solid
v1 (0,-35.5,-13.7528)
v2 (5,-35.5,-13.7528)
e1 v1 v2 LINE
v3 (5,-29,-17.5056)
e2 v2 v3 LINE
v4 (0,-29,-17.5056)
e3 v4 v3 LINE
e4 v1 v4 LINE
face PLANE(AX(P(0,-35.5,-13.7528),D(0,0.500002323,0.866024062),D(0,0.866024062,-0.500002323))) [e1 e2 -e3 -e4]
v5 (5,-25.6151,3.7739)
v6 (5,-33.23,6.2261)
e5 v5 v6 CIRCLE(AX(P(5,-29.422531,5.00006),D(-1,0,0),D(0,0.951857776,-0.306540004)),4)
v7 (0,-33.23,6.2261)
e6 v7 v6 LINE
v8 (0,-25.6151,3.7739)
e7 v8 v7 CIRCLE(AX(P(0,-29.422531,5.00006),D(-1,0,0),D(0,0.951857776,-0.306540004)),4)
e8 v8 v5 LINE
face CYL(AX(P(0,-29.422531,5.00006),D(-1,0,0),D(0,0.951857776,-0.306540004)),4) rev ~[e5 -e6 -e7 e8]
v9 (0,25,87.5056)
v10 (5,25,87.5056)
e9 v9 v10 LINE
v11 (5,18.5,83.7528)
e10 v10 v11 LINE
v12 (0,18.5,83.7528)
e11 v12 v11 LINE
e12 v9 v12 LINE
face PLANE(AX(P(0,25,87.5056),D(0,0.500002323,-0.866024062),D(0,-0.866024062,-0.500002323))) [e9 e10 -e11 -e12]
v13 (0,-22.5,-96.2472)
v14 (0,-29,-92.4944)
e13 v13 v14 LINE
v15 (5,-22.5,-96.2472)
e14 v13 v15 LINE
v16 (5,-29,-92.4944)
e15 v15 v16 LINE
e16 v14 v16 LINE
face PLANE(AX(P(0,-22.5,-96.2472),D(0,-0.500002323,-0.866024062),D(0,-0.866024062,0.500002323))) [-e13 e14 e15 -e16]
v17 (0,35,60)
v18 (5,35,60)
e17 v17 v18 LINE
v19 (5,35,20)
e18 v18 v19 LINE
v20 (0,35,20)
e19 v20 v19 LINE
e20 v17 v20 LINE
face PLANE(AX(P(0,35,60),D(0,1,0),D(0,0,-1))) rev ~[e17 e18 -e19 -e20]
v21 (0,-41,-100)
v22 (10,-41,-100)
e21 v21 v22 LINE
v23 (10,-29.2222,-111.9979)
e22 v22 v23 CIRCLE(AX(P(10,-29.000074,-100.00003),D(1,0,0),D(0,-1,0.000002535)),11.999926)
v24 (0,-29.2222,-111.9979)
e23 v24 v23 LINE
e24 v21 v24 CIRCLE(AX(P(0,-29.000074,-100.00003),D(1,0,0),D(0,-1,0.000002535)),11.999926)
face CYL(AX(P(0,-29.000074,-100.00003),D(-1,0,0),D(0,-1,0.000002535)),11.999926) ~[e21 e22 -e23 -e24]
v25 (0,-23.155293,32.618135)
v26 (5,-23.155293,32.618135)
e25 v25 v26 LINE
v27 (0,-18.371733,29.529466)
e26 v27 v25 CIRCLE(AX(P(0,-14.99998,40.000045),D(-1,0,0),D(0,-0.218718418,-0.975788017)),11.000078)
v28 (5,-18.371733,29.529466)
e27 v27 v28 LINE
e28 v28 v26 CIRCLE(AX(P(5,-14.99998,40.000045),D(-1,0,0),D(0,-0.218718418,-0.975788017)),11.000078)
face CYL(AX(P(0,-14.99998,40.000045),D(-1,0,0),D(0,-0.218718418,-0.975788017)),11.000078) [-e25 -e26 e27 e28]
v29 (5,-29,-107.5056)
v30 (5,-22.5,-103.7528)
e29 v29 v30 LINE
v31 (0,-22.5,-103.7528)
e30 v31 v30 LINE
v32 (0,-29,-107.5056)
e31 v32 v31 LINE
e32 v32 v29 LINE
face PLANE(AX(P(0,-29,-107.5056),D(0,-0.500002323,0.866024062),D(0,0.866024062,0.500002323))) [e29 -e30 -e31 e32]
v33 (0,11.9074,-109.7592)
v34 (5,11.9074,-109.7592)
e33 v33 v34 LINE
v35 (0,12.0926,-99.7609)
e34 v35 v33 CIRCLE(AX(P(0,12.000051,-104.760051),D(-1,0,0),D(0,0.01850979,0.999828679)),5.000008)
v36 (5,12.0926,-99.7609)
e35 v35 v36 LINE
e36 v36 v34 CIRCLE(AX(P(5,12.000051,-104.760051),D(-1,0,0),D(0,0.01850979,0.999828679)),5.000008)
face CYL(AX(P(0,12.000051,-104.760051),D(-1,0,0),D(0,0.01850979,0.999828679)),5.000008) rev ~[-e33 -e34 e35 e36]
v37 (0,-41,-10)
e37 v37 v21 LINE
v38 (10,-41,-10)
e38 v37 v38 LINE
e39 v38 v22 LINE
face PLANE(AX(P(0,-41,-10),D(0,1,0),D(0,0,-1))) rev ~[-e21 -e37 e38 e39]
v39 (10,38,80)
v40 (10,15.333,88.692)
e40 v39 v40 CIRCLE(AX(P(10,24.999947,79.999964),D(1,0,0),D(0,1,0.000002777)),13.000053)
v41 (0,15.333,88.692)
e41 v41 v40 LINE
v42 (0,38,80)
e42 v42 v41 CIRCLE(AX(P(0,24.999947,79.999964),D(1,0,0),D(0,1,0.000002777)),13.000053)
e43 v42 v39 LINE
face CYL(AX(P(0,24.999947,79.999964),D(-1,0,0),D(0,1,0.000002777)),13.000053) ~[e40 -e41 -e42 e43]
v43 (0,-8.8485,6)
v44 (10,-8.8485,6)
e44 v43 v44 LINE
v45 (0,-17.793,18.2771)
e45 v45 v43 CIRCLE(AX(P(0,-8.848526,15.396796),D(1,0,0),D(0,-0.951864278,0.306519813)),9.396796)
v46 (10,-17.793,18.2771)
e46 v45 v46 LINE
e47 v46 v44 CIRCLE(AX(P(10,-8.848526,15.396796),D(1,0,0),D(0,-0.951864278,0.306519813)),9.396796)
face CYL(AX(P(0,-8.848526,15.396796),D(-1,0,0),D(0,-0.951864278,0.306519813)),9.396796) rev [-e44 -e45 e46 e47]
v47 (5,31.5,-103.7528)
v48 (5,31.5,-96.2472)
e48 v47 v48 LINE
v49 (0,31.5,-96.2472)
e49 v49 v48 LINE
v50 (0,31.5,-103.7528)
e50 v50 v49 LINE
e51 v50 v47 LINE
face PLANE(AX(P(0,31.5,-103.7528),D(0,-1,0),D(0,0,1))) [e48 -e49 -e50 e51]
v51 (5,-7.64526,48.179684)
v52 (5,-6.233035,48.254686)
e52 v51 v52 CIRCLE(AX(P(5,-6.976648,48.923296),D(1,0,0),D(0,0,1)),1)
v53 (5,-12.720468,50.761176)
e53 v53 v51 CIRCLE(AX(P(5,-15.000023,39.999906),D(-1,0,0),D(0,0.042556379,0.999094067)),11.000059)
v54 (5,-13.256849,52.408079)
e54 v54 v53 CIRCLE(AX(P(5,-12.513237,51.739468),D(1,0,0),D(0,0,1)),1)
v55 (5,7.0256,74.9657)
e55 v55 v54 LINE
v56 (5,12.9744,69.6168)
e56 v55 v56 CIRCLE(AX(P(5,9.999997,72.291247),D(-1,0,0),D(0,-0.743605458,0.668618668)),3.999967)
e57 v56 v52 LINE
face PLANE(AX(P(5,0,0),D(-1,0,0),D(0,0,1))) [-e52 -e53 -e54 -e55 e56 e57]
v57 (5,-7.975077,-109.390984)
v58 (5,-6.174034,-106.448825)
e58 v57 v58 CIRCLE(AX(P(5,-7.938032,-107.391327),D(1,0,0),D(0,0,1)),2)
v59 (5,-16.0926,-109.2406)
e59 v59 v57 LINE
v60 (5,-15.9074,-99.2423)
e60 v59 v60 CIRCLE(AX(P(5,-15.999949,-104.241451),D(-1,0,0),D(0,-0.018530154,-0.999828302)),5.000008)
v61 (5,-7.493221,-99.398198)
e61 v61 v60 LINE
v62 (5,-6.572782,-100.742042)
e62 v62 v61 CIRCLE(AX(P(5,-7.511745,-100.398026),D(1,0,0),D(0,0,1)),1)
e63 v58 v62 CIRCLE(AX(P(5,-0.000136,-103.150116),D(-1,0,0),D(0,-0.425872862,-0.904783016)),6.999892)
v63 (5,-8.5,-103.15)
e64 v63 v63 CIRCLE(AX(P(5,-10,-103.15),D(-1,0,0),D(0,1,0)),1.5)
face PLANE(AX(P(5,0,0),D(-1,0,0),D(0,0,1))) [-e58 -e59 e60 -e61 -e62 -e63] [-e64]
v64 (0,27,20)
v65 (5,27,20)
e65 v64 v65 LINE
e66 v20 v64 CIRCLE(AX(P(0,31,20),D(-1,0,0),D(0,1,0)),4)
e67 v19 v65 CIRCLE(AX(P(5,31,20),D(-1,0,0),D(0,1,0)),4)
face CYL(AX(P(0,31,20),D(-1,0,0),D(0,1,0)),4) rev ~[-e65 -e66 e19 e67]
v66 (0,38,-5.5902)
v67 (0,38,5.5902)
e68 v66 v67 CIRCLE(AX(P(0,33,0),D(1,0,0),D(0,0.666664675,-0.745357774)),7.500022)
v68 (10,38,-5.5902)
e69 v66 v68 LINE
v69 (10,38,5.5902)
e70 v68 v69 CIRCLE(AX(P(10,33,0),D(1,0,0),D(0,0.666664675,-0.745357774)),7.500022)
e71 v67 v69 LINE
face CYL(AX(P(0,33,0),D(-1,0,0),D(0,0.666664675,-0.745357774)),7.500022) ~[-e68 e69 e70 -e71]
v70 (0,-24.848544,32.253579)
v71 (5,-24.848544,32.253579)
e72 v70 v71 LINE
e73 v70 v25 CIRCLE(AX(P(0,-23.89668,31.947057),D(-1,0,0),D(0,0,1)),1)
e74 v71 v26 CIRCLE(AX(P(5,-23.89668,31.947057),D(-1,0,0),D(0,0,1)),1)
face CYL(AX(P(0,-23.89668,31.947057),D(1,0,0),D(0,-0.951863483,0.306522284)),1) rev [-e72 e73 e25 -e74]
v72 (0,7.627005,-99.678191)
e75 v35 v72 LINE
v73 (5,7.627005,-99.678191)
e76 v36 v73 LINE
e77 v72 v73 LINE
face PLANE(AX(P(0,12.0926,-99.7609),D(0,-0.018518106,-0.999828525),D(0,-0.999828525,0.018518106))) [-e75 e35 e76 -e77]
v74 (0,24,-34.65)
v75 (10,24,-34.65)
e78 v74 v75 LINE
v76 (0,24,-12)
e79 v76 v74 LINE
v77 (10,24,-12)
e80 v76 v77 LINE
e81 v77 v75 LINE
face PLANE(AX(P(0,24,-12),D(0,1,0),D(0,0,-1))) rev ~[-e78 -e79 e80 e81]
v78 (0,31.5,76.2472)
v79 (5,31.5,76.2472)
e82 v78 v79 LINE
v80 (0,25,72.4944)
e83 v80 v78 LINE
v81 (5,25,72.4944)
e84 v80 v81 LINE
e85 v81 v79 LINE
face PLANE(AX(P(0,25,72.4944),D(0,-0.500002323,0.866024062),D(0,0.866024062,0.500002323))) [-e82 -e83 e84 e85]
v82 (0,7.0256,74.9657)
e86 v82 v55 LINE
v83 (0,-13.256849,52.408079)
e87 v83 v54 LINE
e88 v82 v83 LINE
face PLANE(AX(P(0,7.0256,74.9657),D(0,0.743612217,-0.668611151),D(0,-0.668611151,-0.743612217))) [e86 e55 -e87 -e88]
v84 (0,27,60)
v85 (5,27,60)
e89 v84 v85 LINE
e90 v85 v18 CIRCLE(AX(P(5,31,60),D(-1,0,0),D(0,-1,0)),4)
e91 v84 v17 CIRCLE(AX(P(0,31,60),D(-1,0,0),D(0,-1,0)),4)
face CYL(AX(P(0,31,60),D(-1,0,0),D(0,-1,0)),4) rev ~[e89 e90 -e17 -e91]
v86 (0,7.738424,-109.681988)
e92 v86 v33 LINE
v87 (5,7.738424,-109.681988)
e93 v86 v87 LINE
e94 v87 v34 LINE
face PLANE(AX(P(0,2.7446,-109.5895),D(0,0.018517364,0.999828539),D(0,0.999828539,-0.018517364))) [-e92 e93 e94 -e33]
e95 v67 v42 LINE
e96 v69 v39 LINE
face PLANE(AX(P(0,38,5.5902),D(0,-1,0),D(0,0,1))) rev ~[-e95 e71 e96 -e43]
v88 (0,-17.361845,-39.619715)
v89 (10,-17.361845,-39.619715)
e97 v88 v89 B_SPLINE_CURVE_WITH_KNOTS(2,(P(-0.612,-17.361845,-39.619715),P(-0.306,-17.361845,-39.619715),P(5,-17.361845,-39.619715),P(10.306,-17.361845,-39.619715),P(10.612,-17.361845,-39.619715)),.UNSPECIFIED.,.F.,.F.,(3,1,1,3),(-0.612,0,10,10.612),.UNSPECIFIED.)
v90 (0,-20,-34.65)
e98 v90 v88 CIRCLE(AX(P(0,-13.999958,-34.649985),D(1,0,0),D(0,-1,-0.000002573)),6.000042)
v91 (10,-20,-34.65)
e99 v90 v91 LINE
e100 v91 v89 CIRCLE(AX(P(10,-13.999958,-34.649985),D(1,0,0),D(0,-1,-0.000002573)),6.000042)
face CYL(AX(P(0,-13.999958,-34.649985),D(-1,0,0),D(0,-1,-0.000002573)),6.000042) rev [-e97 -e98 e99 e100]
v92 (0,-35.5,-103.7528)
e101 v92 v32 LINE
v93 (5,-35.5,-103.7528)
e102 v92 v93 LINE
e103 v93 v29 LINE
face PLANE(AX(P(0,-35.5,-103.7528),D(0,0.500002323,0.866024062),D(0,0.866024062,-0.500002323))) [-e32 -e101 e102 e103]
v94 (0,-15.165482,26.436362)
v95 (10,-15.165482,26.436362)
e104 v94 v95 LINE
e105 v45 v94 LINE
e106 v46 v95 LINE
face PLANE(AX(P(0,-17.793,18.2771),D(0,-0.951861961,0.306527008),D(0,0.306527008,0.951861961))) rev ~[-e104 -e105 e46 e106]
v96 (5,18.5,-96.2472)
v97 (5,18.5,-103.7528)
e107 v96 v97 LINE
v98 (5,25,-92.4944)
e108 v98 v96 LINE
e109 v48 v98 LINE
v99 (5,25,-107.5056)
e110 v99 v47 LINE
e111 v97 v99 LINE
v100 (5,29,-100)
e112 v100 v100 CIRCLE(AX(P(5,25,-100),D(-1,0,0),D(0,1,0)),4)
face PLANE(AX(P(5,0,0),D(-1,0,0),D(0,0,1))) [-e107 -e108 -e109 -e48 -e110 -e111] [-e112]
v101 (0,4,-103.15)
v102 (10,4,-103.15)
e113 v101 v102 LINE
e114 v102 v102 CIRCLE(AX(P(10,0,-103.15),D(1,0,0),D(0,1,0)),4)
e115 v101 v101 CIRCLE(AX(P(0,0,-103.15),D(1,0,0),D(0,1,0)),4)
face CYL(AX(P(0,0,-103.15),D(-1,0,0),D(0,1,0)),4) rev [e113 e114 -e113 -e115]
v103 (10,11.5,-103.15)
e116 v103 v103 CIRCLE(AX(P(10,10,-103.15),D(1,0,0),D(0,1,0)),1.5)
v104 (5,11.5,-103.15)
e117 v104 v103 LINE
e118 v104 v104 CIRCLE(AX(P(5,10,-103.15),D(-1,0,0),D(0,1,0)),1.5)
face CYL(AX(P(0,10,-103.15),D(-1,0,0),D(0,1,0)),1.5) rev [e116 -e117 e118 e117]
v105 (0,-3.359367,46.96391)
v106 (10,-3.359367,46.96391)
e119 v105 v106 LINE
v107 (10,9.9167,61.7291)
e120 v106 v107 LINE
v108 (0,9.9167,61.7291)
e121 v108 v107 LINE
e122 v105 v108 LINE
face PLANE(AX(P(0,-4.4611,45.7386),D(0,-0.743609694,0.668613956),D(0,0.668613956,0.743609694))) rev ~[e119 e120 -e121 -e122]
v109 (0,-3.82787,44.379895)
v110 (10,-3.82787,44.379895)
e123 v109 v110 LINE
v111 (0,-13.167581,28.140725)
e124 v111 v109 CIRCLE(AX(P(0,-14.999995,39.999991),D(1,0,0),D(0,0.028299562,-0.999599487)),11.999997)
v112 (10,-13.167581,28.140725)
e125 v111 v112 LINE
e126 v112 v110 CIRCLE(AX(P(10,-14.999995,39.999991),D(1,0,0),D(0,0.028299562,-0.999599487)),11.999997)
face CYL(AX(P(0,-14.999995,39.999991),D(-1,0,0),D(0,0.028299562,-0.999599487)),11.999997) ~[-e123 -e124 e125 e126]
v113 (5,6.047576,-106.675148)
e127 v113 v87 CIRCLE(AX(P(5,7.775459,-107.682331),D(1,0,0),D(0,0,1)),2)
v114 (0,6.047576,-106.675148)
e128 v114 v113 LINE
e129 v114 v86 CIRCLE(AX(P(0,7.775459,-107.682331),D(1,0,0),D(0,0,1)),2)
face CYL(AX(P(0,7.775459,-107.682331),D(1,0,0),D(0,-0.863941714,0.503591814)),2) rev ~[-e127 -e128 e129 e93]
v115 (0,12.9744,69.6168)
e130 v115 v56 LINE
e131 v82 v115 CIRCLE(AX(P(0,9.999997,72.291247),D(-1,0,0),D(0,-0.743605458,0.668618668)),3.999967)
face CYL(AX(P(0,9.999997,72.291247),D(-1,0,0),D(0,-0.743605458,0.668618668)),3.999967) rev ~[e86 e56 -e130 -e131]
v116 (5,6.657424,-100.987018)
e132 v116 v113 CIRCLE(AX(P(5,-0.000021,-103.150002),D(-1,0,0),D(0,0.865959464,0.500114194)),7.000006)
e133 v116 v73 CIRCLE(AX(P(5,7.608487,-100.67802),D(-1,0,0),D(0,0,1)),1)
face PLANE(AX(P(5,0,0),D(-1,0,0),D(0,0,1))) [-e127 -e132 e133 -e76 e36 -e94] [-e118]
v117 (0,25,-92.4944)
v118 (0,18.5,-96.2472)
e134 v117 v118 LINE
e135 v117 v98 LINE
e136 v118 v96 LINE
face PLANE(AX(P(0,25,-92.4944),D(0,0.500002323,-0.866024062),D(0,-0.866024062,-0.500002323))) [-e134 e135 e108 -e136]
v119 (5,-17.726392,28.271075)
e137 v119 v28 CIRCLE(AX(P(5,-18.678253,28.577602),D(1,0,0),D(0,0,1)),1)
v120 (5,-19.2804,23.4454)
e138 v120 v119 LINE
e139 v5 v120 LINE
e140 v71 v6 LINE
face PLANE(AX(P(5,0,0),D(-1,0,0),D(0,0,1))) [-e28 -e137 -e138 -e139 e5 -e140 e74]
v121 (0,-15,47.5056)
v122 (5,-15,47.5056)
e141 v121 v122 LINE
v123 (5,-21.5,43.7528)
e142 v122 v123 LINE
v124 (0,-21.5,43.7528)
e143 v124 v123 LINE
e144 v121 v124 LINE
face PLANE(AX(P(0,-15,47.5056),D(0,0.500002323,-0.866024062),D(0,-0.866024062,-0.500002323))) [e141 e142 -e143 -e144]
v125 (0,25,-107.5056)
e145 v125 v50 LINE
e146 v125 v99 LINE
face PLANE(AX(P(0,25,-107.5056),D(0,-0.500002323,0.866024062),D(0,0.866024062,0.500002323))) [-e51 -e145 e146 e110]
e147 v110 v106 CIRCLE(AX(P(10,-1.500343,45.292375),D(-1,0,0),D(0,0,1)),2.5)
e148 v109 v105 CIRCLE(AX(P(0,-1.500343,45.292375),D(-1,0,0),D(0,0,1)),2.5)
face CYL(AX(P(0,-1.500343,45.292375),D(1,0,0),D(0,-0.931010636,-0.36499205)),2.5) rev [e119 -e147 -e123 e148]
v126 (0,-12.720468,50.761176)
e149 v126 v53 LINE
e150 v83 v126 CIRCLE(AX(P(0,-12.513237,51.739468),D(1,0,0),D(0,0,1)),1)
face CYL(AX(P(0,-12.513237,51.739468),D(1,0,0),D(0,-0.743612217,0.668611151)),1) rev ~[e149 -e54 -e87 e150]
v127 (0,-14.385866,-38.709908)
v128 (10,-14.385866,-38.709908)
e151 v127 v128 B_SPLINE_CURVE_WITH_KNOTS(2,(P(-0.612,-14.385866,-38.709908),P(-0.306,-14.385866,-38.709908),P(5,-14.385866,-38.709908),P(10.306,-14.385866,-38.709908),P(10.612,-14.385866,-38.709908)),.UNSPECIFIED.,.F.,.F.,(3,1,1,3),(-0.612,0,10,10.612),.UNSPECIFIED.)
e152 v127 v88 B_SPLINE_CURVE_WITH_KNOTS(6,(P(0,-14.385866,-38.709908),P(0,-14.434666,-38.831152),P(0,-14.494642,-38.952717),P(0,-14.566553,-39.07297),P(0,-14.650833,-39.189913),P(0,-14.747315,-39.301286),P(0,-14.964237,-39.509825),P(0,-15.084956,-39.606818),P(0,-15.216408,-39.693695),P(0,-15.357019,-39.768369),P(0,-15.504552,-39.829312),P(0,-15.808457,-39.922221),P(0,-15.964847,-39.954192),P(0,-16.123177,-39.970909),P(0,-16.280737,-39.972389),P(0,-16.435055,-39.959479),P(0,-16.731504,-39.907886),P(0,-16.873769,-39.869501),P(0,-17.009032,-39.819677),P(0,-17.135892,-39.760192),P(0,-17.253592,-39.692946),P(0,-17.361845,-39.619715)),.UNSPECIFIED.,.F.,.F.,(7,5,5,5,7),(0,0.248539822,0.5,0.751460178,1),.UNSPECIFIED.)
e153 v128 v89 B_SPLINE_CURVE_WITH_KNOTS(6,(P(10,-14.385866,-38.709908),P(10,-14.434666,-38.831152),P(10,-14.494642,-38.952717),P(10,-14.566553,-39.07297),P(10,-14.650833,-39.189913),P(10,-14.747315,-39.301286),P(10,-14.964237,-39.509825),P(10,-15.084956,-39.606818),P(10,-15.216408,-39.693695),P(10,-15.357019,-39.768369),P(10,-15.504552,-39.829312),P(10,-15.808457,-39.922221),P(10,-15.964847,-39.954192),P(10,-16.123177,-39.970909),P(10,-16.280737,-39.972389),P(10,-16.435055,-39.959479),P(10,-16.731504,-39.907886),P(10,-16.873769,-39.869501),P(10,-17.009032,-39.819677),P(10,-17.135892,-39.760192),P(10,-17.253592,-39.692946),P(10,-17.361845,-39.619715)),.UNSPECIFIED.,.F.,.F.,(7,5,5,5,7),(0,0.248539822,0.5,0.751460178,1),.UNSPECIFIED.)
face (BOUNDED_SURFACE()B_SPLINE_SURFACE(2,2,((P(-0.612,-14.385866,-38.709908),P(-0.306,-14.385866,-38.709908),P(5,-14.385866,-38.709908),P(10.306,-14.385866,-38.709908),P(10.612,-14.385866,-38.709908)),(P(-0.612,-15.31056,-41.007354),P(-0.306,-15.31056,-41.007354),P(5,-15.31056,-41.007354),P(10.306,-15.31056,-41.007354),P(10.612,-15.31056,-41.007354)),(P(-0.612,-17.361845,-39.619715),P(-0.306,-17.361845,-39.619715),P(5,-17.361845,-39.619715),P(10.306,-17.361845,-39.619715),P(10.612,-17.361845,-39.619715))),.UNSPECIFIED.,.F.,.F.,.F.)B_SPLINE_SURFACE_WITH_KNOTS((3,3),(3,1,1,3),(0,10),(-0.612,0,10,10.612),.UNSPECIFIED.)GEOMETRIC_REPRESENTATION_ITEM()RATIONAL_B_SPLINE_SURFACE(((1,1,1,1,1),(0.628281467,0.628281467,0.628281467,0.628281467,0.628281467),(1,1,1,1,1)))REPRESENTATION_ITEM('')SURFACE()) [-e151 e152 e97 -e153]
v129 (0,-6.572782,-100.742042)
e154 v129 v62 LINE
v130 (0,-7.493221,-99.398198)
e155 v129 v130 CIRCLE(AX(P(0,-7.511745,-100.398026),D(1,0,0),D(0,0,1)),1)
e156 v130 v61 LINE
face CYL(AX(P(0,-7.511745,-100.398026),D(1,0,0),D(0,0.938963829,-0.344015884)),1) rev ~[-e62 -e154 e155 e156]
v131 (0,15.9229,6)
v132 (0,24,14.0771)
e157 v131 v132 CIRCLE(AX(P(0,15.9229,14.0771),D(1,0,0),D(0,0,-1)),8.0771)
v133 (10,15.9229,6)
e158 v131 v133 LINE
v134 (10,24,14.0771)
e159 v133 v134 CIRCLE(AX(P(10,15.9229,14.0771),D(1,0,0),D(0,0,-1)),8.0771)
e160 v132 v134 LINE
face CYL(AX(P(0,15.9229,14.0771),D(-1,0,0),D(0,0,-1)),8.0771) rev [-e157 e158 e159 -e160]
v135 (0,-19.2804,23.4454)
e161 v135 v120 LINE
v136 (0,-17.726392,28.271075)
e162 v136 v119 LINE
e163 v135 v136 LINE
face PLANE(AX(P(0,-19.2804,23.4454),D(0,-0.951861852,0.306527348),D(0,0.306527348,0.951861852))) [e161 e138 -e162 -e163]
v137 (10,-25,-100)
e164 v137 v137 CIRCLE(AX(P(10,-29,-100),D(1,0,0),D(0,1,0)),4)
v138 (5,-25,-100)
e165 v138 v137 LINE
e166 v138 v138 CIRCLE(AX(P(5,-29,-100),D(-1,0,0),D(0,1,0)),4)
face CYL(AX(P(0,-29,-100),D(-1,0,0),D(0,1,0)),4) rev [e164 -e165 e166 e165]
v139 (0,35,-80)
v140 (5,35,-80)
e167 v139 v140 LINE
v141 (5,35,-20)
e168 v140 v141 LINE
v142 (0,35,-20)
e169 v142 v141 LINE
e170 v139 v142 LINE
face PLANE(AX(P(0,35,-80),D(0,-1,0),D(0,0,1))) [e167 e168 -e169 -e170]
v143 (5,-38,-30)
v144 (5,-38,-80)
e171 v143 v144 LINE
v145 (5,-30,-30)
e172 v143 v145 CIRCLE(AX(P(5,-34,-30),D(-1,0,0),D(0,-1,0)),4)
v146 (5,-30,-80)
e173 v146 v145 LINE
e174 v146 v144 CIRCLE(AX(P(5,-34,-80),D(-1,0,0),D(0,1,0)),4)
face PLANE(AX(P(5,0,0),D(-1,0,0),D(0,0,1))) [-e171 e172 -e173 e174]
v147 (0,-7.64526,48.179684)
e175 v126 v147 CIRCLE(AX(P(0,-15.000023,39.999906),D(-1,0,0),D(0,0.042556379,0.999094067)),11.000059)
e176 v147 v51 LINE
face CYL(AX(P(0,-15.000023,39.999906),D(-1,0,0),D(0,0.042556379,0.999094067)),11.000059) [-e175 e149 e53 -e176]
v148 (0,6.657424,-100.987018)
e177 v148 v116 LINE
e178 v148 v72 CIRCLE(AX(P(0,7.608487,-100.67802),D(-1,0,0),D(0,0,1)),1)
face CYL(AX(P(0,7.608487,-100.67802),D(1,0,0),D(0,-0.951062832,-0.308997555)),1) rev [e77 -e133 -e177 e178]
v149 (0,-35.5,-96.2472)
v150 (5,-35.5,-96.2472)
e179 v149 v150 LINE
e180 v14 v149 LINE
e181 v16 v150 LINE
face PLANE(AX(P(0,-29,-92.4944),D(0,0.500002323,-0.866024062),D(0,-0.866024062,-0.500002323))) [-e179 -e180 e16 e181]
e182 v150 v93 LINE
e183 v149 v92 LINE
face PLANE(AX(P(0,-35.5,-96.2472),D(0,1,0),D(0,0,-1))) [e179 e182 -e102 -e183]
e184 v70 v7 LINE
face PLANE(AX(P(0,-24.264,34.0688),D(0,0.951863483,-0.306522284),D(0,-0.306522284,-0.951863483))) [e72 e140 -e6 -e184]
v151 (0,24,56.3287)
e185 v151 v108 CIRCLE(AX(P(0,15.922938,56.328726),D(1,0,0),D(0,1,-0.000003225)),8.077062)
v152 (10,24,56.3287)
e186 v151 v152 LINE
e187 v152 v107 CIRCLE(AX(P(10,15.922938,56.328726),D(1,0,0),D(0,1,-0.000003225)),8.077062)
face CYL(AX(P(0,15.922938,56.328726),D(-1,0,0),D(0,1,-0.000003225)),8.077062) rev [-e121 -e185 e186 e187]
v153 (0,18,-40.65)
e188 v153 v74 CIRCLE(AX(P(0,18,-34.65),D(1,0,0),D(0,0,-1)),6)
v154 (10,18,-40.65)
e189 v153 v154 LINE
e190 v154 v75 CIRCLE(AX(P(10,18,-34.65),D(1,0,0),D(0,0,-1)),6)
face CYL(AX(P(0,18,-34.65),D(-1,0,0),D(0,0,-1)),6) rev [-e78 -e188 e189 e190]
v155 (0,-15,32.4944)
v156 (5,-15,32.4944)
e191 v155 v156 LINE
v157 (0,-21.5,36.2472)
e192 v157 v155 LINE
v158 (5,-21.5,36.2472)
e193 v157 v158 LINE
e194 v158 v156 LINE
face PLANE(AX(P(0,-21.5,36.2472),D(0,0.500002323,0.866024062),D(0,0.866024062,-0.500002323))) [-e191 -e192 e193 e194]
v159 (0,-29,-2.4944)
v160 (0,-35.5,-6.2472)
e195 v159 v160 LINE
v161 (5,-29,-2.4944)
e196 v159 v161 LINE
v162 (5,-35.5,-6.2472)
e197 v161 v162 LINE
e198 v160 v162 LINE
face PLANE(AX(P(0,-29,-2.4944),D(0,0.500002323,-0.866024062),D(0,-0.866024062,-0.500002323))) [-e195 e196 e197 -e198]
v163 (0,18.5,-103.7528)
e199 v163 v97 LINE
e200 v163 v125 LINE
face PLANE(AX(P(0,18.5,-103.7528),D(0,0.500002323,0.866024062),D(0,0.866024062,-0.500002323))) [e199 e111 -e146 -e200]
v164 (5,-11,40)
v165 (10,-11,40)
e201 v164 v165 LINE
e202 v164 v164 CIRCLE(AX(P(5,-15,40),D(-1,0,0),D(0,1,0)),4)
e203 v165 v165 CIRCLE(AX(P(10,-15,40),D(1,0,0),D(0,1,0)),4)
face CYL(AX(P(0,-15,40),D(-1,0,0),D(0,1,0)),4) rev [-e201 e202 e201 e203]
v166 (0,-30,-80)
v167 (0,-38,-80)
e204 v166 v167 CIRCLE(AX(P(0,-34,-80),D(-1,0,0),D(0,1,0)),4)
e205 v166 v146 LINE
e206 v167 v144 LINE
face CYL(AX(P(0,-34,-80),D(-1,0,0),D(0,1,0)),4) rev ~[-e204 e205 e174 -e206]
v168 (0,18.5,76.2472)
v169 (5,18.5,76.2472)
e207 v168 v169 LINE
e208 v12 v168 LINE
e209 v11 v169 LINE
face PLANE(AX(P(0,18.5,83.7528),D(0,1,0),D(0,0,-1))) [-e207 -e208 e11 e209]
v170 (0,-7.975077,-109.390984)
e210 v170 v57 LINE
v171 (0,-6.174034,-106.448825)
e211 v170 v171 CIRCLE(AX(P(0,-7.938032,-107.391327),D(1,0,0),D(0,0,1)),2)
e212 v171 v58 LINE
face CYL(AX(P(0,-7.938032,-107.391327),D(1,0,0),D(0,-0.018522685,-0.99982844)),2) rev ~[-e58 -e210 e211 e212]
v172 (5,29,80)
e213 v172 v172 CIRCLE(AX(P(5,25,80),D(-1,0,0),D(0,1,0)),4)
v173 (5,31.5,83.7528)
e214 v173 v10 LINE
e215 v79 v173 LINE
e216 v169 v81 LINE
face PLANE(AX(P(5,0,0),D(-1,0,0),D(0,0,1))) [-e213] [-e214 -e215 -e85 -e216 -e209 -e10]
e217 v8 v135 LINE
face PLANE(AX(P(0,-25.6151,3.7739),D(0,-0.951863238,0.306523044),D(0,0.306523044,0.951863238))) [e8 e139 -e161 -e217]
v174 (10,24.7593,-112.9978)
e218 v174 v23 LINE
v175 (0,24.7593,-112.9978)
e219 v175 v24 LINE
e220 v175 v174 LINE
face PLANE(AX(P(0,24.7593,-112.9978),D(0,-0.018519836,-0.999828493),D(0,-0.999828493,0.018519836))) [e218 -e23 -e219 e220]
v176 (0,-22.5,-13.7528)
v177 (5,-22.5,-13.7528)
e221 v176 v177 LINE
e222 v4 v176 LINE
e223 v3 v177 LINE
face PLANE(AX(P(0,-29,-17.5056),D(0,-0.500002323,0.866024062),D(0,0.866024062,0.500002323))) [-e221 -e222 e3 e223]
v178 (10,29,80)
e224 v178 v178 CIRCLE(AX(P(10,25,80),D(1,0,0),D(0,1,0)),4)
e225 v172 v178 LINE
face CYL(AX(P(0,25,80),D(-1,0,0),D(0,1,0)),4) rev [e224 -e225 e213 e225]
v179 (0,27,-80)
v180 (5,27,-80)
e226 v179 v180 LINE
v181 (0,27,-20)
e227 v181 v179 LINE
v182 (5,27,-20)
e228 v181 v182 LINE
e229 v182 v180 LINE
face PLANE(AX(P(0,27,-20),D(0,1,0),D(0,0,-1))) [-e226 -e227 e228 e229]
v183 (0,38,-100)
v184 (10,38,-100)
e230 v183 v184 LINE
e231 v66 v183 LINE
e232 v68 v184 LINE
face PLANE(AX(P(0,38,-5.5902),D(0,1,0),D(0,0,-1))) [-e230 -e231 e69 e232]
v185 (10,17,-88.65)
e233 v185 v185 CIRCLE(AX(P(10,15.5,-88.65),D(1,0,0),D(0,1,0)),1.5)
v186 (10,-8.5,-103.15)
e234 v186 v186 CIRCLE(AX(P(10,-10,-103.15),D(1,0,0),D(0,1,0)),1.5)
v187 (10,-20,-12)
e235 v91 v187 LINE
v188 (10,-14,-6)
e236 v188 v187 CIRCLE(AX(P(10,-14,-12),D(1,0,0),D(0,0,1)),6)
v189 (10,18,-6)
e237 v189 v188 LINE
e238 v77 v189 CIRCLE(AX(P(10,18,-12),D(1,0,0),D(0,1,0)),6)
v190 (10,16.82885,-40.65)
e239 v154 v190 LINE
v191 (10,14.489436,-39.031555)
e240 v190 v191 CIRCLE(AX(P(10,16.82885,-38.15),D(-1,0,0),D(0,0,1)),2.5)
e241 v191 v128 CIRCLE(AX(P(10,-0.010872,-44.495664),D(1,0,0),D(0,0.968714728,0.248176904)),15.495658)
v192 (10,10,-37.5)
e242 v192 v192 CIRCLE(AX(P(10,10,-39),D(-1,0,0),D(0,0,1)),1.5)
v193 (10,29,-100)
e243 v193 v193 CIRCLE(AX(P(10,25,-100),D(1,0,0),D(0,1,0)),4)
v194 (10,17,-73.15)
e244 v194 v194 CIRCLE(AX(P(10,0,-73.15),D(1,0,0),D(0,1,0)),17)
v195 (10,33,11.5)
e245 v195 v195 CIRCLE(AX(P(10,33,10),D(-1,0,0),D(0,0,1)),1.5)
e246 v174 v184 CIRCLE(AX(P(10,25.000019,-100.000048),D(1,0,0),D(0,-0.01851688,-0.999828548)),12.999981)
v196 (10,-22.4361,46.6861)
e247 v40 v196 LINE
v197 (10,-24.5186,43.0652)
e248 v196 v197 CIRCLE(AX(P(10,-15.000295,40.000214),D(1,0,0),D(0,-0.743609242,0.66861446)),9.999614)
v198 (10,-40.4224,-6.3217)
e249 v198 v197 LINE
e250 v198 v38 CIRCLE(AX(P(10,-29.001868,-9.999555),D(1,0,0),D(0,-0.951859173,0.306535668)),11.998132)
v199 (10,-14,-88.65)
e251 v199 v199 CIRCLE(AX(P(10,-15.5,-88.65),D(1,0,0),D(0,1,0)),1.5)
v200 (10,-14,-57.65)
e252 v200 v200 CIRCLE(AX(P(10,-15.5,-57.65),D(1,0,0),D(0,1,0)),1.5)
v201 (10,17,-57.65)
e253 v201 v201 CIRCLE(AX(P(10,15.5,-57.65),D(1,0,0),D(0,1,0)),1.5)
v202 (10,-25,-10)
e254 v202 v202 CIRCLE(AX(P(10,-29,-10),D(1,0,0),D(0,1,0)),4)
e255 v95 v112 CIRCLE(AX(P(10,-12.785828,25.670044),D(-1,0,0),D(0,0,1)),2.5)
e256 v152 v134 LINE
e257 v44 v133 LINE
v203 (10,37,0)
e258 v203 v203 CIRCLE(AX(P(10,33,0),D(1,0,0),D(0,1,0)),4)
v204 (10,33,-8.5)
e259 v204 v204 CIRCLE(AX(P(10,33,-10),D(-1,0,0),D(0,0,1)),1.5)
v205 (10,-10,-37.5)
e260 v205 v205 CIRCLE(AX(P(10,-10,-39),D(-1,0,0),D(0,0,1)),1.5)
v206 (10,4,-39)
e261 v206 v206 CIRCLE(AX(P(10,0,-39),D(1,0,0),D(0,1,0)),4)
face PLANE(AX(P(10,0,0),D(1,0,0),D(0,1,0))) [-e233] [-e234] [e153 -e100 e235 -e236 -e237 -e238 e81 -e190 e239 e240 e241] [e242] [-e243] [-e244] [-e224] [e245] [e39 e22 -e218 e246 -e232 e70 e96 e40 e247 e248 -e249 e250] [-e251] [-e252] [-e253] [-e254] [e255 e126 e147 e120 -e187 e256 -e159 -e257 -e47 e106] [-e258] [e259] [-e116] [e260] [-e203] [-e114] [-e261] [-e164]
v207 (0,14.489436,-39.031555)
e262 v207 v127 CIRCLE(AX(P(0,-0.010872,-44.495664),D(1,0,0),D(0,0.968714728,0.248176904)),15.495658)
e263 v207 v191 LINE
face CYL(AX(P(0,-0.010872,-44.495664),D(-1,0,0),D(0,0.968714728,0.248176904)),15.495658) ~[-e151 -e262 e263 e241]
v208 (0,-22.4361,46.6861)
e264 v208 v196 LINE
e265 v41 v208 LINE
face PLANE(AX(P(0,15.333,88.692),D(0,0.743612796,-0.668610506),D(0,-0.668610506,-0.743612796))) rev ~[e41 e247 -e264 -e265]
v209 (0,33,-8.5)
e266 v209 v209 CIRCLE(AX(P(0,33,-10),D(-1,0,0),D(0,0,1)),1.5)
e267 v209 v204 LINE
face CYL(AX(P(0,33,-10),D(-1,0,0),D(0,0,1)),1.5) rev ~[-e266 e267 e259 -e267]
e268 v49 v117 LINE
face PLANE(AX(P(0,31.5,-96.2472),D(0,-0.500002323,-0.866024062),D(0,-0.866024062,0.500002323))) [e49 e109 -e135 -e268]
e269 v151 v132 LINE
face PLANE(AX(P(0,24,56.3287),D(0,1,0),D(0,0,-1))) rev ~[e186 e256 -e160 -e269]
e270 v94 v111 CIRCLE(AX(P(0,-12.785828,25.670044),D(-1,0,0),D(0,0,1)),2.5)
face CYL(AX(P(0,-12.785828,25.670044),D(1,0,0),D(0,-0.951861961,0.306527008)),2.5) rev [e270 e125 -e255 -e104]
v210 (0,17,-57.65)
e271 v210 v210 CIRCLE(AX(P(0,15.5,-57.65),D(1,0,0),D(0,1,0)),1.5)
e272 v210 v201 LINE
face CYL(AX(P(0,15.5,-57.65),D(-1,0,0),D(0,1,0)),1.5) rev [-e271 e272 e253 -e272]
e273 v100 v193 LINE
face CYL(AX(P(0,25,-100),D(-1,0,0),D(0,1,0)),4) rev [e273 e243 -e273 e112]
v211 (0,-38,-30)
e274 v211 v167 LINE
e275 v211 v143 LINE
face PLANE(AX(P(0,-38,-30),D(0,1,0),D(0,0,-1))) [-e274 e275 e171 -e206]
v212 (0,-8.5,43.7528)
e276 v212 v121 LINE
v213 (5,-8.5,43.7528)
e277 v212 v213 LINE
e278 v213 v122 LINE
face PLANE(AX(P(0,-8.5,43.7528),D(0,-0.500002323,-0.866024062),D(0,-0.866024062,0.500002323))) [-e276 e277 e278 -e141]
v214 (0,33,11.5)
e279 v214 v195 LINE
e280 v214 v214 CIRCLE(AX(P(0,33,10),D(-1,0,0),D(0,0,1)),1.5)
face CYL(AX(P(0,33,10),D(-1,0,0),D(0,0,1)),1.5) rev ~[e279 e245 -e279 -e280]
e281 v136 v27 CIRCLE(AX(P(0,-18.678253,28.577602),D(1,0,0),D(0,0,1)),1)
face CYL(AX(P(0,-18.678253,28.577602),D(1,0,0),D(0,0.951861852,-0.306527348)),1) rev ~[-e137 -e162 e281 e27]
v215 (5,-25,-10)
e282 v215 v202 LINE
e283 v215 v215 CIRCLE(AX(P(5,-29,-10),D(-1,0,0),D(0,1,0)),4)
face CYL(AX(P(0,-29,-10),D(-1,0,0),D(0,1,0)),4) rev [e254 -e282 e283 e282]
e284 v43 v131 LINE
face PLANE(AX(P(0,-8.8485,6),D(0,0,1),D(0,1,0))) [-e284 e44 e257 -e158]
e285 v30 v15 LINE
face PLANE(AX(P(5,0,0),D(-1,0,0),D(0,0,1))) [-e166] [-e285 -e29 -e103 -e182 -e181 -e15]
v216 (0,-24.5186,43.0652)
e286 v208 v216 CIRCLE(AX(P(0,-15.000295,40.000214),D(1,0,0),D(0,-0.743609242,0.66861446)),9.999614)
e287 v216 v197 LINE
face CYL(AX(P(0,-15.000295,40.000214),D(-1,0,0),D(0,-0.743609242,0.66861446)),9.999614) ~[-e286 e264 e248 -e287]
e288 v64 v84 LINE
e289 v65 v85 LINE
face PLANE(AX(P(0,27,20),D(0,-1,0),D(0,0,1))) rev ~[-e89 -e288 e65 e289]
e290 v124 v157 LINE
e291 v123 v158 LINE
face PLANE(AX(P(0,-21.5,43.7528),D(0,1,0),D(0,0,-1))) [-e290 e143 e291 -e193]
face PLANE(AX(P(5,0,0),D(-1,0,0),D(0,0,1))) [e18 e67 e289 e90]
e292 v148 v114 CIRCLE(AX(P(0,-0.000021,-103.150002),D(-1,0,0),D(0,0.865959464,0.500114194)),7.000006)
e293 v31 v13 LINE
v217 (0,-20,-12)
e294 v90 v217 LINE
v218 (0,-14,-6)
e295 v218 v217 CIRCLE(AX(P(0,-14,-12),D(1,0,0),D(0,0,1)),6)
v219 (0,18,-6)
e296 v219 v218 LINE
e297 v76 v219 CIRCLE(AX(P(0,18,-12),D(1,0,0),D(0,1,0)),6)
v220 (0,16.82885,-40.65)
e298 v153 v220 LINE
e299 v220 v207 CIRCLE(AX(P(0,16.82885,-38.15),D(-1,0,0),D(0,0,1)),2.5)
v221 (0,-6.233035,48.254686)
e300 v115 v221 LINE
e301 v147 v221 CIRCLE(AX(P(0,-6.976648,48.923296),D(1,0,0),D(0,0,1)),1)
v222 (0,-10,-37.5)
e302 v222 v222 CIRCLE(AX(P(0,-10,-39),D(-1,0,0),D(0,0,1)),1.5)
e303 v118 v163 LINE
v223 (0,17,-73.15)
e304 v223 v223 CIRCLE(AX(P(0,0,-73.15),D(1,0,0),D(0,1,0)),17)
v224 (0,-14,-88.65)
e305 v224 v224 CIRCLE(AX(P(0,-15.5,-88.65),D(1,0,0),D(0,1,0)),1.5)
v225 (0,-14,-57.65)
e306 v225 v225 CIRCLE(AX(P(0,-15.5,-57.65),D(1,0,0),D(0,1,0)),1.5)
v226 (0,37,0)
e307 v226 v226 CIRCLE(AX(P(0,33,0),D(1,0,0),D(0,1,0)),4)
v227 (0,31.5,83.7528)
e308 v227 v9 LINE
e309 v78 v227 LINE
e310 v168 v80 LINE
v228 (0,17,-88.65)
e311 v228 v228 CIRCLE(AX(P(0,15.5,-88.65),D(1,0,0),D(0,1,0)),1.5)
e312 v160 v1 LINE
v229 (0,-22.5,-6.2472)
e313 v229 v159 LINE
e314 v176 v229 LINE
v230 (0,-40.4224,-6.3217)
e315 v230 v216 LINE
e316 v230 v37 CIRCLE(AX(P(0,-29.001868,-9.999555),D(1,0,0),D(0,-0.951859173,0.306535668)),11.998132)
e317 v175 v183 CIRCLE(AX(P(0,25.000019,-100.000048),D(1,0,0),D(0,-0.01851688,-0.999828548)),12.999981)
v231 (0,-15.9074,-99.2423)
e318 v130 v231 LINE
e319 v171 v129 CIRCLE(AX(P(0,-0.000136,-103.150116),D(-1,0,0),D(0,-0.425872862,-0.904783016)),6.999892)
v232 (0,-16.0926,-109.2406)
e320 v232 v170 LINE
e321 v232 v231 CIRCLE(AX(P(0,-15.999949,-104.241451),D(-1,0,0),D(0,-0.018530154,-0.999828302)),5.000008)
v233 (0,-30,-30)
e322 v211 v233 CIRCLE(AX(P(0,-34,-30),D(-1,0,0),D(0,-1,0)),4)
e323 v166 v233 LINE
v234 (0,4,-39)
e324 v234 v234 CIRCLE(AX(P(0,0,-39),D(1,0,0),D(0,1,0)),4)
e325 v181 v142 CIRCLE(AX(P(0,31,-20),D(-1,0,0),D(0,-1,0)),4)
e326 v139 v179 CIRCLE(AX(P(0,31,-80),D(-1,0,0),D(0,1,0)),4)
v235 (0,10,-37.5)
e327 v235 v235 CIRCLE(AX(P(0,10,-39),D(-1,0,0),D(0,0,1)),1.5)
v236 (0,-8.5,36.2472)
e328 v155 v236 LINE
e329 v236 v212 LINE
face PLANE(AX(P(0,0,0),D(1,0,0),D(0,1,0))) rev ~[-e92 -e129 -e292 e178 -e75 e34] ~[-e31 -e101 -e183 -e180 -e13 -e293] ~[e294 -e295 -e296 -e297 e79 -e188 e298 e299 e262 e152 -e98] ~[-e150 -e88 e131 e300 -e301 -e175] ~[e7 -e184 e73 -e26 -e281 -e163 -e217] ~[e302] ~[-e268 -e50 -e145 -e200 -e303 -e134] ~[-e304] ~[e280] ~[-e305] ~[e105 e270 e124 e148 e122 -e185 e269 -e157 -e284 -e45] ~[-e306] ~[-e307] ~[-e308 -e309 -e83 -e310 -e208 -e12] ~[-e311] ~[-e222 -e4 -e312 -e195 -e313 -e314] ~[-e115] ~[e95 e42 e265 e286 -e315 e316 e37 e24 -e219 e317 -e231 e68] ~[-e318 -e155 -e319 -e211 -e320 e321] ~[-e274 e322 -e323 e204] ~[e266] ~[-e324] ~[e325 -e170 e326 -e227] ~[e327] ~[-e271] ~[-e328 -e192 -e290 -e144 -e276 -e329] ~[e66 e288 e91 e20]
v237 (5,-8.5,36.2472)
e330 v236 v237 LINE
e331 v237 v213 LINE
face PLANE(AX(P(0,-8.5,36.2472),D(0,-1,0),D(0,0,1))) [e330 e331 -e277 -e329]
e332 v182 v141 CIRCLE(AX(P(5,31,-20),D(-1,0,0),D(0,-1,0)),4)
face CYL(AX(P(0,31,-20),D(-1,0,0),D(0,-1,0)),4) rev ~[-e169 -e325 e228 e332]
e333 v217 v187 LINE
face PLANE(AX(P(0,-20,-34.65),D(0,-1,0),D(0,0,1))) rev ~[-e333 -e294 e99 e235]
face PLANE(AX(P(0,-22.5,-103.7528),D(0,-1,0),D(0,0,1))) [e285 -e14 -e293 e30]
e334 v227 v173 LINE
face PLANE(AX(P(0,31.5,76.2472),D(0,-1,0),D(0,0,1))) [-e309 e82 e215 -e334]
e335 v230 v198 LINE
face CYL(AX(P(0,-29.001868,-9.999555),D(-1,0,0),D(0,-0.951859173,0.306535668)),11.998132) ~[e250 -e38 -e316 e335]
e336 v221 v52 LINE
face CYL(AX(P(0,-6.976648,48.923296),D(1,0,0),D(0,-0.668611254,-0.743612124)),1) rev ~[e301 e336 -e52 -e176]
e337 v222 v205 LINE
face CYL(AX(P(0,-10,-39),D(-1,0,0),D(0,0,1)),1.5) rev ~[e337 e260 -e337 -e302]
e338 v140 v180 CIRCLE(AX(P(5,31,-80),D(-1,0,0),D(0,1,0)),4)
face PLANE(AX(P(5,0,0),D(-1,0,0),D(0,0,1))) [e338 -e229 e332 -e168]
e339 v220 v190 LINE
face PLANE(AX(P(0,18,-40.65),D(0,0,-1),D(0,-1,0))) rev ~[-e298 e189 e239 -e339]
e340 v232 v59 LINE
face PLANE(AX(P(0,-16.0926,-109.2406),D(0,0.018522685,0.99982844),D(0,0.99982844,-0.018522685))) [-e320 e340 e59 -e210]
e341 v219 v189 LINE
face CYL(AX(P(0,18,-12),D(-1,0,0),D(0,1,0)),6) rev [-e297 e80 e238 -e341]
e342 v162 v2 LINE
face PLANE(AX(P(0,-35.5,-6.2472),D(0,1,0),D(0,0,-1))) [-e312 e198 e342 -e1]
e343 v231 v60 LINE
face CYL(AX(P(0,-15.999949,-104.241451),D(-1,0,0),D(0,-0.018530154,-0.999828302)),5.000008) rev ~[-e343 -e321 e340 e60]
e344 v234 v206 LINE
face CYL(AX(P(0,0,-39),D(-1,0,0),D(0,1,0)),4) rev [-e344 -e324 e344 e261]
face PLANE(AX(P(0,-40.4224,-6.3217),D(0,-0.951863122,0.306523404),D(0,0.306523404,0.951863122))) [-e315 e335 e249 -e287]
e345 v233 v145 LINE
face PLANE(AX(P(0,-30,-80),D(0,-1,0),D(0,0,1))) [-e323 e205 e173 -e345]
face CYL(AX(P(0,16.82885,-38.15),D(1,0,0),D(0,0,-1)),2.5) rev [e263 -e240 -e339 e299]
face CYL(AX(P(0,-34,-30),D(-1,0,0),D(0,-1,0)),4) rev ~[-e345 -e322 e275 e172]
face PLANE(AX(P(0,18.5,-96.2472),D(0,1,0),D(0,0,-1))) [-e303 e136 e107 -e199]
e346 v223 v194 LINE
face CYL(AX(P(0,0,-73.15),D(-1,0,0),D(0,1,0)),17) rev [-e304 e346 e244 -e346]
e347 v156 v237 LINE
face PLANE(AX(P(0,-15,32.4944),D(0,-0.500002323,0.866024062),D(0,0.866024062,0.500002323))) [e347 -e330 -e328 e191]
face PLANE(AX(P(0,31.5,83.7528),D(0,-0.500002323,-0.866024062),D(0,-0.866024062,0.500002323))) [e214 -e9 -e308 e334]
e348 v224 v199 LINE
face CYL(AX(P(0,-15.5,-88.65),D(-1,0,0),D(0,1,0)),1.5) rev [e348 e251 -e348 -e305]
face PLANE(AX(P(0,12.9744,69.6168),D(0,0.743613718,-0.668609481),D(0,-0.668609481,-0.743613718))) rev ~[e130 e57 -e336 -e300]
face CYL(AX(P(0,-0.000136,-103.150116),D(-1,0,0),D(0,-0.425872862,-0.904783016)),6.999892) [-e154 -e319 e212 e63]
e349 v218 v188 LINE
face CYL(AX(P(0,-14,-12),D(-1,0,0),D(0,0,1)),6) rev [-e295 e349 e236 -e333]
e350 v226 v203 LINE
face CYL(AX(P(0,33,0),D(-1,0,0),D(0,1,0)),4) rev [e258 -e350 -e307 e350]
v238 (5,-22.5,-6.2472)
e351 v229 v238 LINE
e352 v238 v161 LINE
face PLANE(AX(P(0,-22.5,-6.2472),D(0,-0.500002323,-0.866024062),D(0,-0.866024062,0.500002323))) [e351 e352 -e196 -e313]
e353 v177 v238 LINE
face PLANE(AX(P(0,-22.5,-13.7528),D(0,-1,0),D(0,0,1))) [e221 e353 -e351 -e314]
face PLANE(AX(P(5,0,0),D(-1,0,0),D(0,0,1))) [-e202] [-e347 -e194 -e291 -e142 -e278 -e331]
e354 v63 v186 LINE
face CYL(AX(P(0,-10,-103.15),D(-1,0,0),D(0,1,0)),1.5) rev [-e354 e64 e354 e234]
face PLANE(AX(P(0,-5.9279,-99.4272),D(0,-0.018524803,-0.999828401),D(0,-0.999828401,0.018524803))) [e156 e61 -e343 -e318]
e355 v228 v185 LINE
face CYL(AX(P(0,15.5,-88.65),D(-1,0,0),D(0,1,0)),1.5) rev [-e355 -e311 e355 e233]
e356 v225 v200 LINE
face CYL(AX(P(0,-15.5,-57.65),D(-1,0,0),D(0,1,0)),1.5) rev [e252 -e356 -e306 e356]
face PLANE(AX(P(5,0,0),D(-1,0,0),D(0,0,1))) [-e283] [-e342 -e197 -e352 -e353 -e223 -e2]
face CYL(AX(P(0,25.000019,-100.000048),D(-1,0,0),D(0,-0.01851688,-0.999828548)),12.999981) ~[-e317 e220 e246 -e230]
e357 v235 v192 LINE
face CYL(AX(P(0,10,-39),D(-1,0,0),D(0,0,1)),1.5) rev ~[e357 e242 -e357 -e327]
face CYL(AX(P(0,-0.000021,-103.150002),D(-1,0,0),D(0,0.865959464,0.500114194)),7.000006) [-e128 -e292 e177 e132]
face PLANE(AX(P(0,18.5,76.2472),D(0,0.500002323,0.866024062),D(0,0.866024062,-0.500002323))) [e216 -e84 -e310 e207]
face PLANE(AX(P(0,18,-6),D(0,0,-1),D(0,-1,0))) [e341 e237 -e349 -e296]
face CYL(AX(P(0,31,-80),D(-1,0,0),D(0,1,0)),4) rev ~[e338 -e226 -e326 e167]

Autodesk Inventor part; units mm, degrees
ref_plane "YZ Plane" through (0, 0, 0) normal (1, 0, 0) x (0, 1, 0)
ref_plane "XZ Plane" through (0, 0, 0) normal (0, 1, 0) x (-1, 0, 0)
ref_plane "XY Plane" through (0, 0, 0) normal (0, 0, 1) x (1, 0, 0)
sketch "Sketch1" plane through (0, 0, 0) normal (1, 0, 0) x (0, 1, 0)
  circle A0 centre (33, 0) radius 4
  circle A1 centre (-29, -10) radius 4
  circle A2 centre (-29, -100) radius 4
  circle A3 centre (25, 80) radius 4
  circle A4 centre (25, -100) radius 4
  arc A5 (38, -5.5902) -> (38, 5.5902) centre (33, 0) ccw
  line L0 (38, -5.5902) -> (38, -100)
  line L1 (38, 5.5902) -> (38, 80)
  arc A6 (38, 80) -> (15.333, 88.692) centre (25, 80) ccw
  arc A7 (24.7593, -112.9978) -> (38, -100) centre (25, -100) ccw
  circle A8 centre (0, -39) radius 4
  circle A9 centre (0, -73.15) radius 17
  circle A10 centre (15.5, -57.65) radius 1.5
  circle A11 centre (15.5, -88.65) radius 1.5
  circle A12 centre (-15.5, -57.65) radius 1.5
  circle A13 centre (-15.5, -88.65) radius 1.5
  circle A14 centre (-15, 40) radius 4
  line L2 (-41, -10) -> (-41, -100)
  arc A15 (-41, -100) -> (-29.2222, -111.9979) centre (-29, -100) ccw
  arc A16 (-40.4224, -6.3217) -> (-41, -10) centre (-29, -10) ccw
  line L3 (24.7593, -112.9978) -> (-29.2222, -111.9979)
  arc A17 (-14.6604, 28.0048) -> (-4.4611, 45.7386) centre (-15, 40) ccw
  line L4 (-4.4611, 45.7386) -> (9.9167, 61.7291)
  line L5 (24, 56.3287) -> (24, 14.0771)
  line L6 (-8.8485, 6) -> (15.9229, 6)
  arc A18 (24, 56.3287) -> (9.9167, 61.7291) centre (15.9229, 56.3287) ccw
  arc A19 (15.9229, 6) -> (24, 14.0771) centre (15.9229, 14.0771) ccw
  arc A20 (-17.793, 18.2771) -> (-8.8485, 6) centre (-8.8485, 15.3968) ccw
  line L7 (-17.793, 18.2771) -> (-14.6604, 28.0048)
  line L8 (19.5175, -6) -> (-14, -6)
  arc A21 (24, -12) -> (18, -6) centre (18, -12) ccw
  arc A22 (18, -40.65) -> (24, -34.65) centre (18, -34.65) ccw
  arc A23 (-14, -6) -> (-20, -12) centre (-14, -12) ccw
  arc A24 (-20, -34.65) -> (-15, -40.5661) centre (-14, -34.65) ccw
  line L9 (24, -12) -> (24, -34.65)
  line L10 (-20, -34.65) -> (-20, -12)
  line L11 (18, -40.65) -> (15, -40.65)
  arc A25 (15, -40.65) -> (-15, -40.5661) centre (-0.0109, -44.4957) ccw
  circle A26 centre (0, -103.15) radius 4
  circle A27 centre (10, -103.15) radius 1.5
  circle A28 centre (-10, -103.15) radius 1.5
  line L12 (15.333, 88.692) -> (-22.4361, 46.6861)
  line L13 (-40.4224, -6.3217) -> (-24.5186, 43.0652)
  arc A29 (-22.4361, 46.6861) -> (-24.5186, 43.0652) centre (-15, 40) ccw
  arc A30 (-14.6604, 28.0048) -> (-4.4611, 45.7386) centre (-15, 40) ccw
  point P0 (0, 0)
  point P1 (38, 41.5104)
  point P2 (38, -62.1387)
  point P3 (-20, -40.65)
  point P4 (16.5, -40.65)
  point P5 (-18, -40.65)
  point P6 (0, -29)
  point P7 (-10, -94.936)
  dimension "d0" = 8
  dimension "d1" = 8
  dimension "d2" = 8
  dimension "d3" = 8
  dimension "d4" = 80
  dimension "d5" = 100
  dimension "d6" = 62
  dimension "d7" = 90
  dimension "d8" = 10
  dimension "d9" = 15
  dimension "d10" = 5
  dimension "d13" = 8
  dimension "d14" = 39
  dimension "d15" = 34
  dimension "d16" = 34.15
  dimension "d17" = 3
  dimension "d18" = 3
  dimension "d19" = 3
  dimension "d20" = 3
  dimension "d21" = 31
  dimension "d22" = 31
  dimension "d23" = 15.5
  dimension "d24" = 15.5
  dimension "d25" = 8
  dimension "d27" = 12
  dimension "d28" = 24
  dimension "d29" = 24
  dimension "d30" = 24
  dimension "d31" = 33
  dimension "d34" = 14
  dimension "d35" = 6
  dimension "d38" = 6
  dimension "d42" = 6
  dimension "d46" = 9
  dimension "d47" = 14
  dimension "d48" = 17
  dimension "d97" = 15
  dimension "d98" = 10
  dimension "d110" = 15
  dimension "d117" = 8
  dimension "d118" = 30
  dimension "d121" = 3
  dimension "d122" = 3
  dimension "d123" = 10
  dimension "d124" = 10
  dimension "d134" = 40
  dimension "d135" = 15
  dimension "d136" = 42.2516
  dimension "d137" = 24.8066
  dimension "d139" = 10
  dimension "d145" = 14
  dimension "d146" = 14
extrude "Extrusion1" add sketch "Sketch1" along normal blind 10
sketch "Sketch3" plane through (0, 0, 0) normal (-1, 0, 0) x (0, 0, 1)
  circle A0 centre (-100, 25) radius 4 projected
  line L0 (-92.4944, 25) -> (-96.2472, 18.5)
  line L1 (-96.2472, 18.5) -> (-103.7528, 18.5)
  line L2 (-103.7528, 18.5) -> (-107.5056, 25)
  line L3 (-107.5056, 25) -> (-103.7528, 31.5)
  line L4 (-103.7528, 31.5) -> (-96.2472, 31.5)
  line L5 (-96.2472, 31.5) -> (-92.4944, 25)
  line L6 (-100, 38) -> (-5.5902, 38) projected
  circle A1 centre (-100, -29) radius 4 projected
  line L7 (-96.2472, -22.5) -> (-92.4944, -29)
  line L8 (-92.4944, -29) -> (-96.2472, -35.5)
  line L9 (-96.2472, -35.5) -> (-103.7528, -35.5)
  line L10 (-103.7528, -35.5) -> (-107.5056, -29)
  line L11 (-107.5056, -29) -> (-103.7528, -22.5)
  line L12 (-103.7528, -22.5) -> (-96.2472, -22.5)
  circle A2 centre (40, -15) radius 4 projected
  line L13 (47.5056, -15) -> (43.7528, -21.5)
  line L14 (43.7528, -21.5) -> (36.2472, -21.5)
  line L15 (36.2472, -21.5) -> (32.4944, -15)
  line L16 (32.4944, -15) -> (36.2472, -8.5)
  line L17 (36.2472, -8.5) -> (43.7528, -8.5)
  line L18 (43.7528, -8.5) -> (47.5056, -15)
  circle A3 centre (-10, -29) radius 4 projected
  line L19 (-2.4944, -29) -> (-6.2472, -35.5)
  line L20 (-6.2472, -35.5) -> (-13.7528, -35.5)
  line L21 (-13.7528, -35.5) -> (-17.5056, -29)
  line L22 (-17.5056, -29) -> (-13.7528, -22.5)
  line L23 (-13.7528, -22.5) -> (-6.2472, -22.5)
  line L24 (-6.2472, -22.5) -> (-2.4944, -29)
  circle A4 centre (80, 25) radius 4 projected
  line L25 (87.5056, 25) -> (83.7528, 18.5)
  line L26 (83.7528, 18.5) -> (76.2472, 18.5)
  line L27 (76.2472, 18.5) -> (72.4944, 25)
  line L28 (72.4944, 25) -> (76.2472, 31.5)
  line L29 (76.2472, 31.5) -> (83.7528, 31.5)
  line L30 (83.7528, 31.5) -> (87.5056, 25)
  point P0 (0, 0)
  dimension "d61" = 13
  dimension "d62" = 13
  dimension "d63" = 13
  dimension "d64" = 13
  dimension "d65" = 13
extrude "Extrusion2" cut sketch "Sketch3" against normal blind 5
fillet "Fillet2" radius 2.5 3 edges at (5, 15, -40.65) (5, -4.4611, 45.7386) (5, -14.6604, 28.0048)
sketch "Sketch5" plane through (0, 0, 0) normal (-1, 0, 0) x (0, 0, 1)
  arc A0 (-80, 35) -> (-80, 27) centre (-80, 31) ccw
  arc A1 (-20, 27) -> (-20, 35) centre (-20, 31) ccw
  arc A2 (20, 35) -> (20, 27) centre (20, 31) ccw
  arc A3 (60, 27) -> (60, 35) centre (60, 31) ccw
  line L0 (-80, 35) -> (-20, 35)
  line L1 (-20, 27) -> (-80, 27)
  line L2 (20, 27) -> (60, 27)
  line L3 (60, 35) -> (20, 35)
  line L4 (-100, 38) -> (-5.5902, 38) projected
  line L5 (5.5902, 38) -> (80, 38) projected
  circle A4 centre (-100, 25) radius 4 projected
  circle A5 centre (0, 33) radius 4 projected
  circle A6 centre (80, 25) radius 4 projected
  arc A7 (-99.7609, 12.0926) -> (-109.7592, 11.9074) centre (-104.7601, 12) ccw
  arc A8 (-109.2406, -16.0926) -> (-99.2423, -15.9074) centre (-104.2415, -16) ccw
  line L6 (-111.9979, -29.2222) -> (-112.9978, 24.7593) projected
  circle A9 centre (-100, -29) radius 4 projected
  arc A10 (-80, -30) -> (-80, -38) centre (-80, -34) ccw
  arc A11 (-30, -38) -> (-30, -30) centre (-30, -34) ccw
  line L7 (-80, -30) -> (-30, -30)
  line L8 (-30, -38) -> (-80, -38)
  line L9 (-10, -41) -> (-100, -41) projected
  circle A12 centre (-10, -29) radius 4 projected
  arc A13 (3.7739, -25.6151) -> (6.2261, -33.23) centre (5, -29.4225) ccw
  circle A14 centre (40, -15) radius 4 projected
  line L10 (3.7739, -25.6151) -> (23.4454, -19.2804)
  line L11 (34.0688, -24.264) -> (6.2261, -33.23)
  circle A15 centre (-103.15, 0) radius 4 projected
  line L12 (-99.7609, 12.0926) -> (-99.6492, 6.0617)
  line L13 (-99.4272, -5.9279) -> (-99.2423, -15.9074)
  line L14 (23.4454, -19.2804) -> (29.2663, -17.4059)
  arc A16 (-99.6492, 6.0617) -> (-109.5895, 2.7446) centre (-103.15, 0) ccw
  arc A17 (-109.4835, -2.9812) -> (-99.4272, -5.9279) centre (-103.15, 0) ccw
  line L15 (-109.2406, -16.0926) -> (-109.4835, -2.9812)
  line L16 (-109.5895, 2.7446) -> (-109.7592, 11.9074)
  line L17 (26.4363, -15.1655) -> (18.2771, -17.793) projected
  arc A18 (74.9657, 7.0256) -> (69.6168, 12.9744) centre (72.2912, 10) ccw
  line L18 (69.6168, 12.9744) -> (47.4772, -6.9321)
  line L19 (74.9657, 7.0256) -> (50.99, -14.5319)
  line L20 (61.7291, 9.9167) -> (46.9639, -3.3594) projected
  line L21 (43.0652, -24.5186) -> (-6.3217, -40.4224) projected
  line L22 (88.692, 15.333) -> (46.6861, -22.4361) projected
  arc A19 (50.99, -14.5319) -> (47.4772, -6.9321) centre (40, -15) ccw
  arc A20 (29.2663, -17.4059) -> (34.0688, -24.264) centre (40, -15) ccw
  arc A21 (29.2663, -17.4059) -> (34.0688, -24.264) centre (40, -15) ccw
  arc A22 (50.99, -14.5319) -> (47.4772, -6.9321) centre (40, -15) ccw
  point P0 (0, 0)
  dimension "d71" = 8
  dimension "d72" = 8
  dimension "d73" = 8
  dimension "d74" = 3
  dimension "d75" = 3
  dimension "d76" = 20
  dimension "d77" = 20
  dimension "d78" = 20
  dimension "d79" = 20
  dimension "d80" = 10
  dimension "d83" = 13
  dimension "d84" = 13
  dimension "d85" = 3
  dimension "d86" = 8
  dimension "d87" = 20
  dimension "d88" = 20
  dimension "d89" = 8
  dimension "d92" = 15
  dimension "d128" = 3
  dimension "d129" = 7
  dimension "d130" = 7
  dimension "d140" = 8
  dimension "d141" = 3
  dimension "d142" = 3
  dimension "d143" = 15
  dimension "d144" = 11
extrude "Extrusion3" cut sketch "Sketch5" against normal blind 5 contours L0 A1 L1 A0 | L3 A3 L2 A2 | L12 A16 L16 A7 | L15 A17 L13 A8 | L7 A11 L8 A10 | L10 L14 A20 L11 A13 | L19 A19 L18 A18
sketch "Sketch6" plane through (0, 0, 0) normal (-1, 0, 0) x (0, 0, 1)
  circle A0 centre (-39, 10) radius 1.5
  circle A1 centre (-39, -10) radius 1.5
  circle A2 centre (-10, 33) radius 1.5
  circle A3 centre (10, 33) radius 1.5
  circle A4 centre (-39, 0) radius 4 projected
  circle A5 centre (0, 33) radius 4 projected
  point P0 (0, 0)
  dimension "d99" = 3
  dimension "d100" = 3
  dimension "d101" = 3
  dimension "d102" = 3
  dimension "d103" = 10
  dimension "d105" = 10
  dimension "d106" = 10
  dimension "d107" = 10
extrude "Extrusion4" cut sketch "Sketch6" against normal blind 10 contours A0 | A1 | A2 | A3
fillet "Fillet3" radius 2 1 edges at (5, -15, -40.5661)
fillet "Fillet4" radius 2 2 edges at (2.5, 2.7446, -109.5895) (2.5, -2.9812, -109.4835)
fillet "Fillet5" radius 1 6 edges at (2.5, 6.0617, -99.6492) (2.5, -5.9279, -99.4272) (2.5, -17.4059, 29.2663) (2.5, -24.264, 34.0688) (2.5, -6.9321, 47.4772) (2.5, -14.5319, 50.99)
properties part number "Frame_Stepper_New"
